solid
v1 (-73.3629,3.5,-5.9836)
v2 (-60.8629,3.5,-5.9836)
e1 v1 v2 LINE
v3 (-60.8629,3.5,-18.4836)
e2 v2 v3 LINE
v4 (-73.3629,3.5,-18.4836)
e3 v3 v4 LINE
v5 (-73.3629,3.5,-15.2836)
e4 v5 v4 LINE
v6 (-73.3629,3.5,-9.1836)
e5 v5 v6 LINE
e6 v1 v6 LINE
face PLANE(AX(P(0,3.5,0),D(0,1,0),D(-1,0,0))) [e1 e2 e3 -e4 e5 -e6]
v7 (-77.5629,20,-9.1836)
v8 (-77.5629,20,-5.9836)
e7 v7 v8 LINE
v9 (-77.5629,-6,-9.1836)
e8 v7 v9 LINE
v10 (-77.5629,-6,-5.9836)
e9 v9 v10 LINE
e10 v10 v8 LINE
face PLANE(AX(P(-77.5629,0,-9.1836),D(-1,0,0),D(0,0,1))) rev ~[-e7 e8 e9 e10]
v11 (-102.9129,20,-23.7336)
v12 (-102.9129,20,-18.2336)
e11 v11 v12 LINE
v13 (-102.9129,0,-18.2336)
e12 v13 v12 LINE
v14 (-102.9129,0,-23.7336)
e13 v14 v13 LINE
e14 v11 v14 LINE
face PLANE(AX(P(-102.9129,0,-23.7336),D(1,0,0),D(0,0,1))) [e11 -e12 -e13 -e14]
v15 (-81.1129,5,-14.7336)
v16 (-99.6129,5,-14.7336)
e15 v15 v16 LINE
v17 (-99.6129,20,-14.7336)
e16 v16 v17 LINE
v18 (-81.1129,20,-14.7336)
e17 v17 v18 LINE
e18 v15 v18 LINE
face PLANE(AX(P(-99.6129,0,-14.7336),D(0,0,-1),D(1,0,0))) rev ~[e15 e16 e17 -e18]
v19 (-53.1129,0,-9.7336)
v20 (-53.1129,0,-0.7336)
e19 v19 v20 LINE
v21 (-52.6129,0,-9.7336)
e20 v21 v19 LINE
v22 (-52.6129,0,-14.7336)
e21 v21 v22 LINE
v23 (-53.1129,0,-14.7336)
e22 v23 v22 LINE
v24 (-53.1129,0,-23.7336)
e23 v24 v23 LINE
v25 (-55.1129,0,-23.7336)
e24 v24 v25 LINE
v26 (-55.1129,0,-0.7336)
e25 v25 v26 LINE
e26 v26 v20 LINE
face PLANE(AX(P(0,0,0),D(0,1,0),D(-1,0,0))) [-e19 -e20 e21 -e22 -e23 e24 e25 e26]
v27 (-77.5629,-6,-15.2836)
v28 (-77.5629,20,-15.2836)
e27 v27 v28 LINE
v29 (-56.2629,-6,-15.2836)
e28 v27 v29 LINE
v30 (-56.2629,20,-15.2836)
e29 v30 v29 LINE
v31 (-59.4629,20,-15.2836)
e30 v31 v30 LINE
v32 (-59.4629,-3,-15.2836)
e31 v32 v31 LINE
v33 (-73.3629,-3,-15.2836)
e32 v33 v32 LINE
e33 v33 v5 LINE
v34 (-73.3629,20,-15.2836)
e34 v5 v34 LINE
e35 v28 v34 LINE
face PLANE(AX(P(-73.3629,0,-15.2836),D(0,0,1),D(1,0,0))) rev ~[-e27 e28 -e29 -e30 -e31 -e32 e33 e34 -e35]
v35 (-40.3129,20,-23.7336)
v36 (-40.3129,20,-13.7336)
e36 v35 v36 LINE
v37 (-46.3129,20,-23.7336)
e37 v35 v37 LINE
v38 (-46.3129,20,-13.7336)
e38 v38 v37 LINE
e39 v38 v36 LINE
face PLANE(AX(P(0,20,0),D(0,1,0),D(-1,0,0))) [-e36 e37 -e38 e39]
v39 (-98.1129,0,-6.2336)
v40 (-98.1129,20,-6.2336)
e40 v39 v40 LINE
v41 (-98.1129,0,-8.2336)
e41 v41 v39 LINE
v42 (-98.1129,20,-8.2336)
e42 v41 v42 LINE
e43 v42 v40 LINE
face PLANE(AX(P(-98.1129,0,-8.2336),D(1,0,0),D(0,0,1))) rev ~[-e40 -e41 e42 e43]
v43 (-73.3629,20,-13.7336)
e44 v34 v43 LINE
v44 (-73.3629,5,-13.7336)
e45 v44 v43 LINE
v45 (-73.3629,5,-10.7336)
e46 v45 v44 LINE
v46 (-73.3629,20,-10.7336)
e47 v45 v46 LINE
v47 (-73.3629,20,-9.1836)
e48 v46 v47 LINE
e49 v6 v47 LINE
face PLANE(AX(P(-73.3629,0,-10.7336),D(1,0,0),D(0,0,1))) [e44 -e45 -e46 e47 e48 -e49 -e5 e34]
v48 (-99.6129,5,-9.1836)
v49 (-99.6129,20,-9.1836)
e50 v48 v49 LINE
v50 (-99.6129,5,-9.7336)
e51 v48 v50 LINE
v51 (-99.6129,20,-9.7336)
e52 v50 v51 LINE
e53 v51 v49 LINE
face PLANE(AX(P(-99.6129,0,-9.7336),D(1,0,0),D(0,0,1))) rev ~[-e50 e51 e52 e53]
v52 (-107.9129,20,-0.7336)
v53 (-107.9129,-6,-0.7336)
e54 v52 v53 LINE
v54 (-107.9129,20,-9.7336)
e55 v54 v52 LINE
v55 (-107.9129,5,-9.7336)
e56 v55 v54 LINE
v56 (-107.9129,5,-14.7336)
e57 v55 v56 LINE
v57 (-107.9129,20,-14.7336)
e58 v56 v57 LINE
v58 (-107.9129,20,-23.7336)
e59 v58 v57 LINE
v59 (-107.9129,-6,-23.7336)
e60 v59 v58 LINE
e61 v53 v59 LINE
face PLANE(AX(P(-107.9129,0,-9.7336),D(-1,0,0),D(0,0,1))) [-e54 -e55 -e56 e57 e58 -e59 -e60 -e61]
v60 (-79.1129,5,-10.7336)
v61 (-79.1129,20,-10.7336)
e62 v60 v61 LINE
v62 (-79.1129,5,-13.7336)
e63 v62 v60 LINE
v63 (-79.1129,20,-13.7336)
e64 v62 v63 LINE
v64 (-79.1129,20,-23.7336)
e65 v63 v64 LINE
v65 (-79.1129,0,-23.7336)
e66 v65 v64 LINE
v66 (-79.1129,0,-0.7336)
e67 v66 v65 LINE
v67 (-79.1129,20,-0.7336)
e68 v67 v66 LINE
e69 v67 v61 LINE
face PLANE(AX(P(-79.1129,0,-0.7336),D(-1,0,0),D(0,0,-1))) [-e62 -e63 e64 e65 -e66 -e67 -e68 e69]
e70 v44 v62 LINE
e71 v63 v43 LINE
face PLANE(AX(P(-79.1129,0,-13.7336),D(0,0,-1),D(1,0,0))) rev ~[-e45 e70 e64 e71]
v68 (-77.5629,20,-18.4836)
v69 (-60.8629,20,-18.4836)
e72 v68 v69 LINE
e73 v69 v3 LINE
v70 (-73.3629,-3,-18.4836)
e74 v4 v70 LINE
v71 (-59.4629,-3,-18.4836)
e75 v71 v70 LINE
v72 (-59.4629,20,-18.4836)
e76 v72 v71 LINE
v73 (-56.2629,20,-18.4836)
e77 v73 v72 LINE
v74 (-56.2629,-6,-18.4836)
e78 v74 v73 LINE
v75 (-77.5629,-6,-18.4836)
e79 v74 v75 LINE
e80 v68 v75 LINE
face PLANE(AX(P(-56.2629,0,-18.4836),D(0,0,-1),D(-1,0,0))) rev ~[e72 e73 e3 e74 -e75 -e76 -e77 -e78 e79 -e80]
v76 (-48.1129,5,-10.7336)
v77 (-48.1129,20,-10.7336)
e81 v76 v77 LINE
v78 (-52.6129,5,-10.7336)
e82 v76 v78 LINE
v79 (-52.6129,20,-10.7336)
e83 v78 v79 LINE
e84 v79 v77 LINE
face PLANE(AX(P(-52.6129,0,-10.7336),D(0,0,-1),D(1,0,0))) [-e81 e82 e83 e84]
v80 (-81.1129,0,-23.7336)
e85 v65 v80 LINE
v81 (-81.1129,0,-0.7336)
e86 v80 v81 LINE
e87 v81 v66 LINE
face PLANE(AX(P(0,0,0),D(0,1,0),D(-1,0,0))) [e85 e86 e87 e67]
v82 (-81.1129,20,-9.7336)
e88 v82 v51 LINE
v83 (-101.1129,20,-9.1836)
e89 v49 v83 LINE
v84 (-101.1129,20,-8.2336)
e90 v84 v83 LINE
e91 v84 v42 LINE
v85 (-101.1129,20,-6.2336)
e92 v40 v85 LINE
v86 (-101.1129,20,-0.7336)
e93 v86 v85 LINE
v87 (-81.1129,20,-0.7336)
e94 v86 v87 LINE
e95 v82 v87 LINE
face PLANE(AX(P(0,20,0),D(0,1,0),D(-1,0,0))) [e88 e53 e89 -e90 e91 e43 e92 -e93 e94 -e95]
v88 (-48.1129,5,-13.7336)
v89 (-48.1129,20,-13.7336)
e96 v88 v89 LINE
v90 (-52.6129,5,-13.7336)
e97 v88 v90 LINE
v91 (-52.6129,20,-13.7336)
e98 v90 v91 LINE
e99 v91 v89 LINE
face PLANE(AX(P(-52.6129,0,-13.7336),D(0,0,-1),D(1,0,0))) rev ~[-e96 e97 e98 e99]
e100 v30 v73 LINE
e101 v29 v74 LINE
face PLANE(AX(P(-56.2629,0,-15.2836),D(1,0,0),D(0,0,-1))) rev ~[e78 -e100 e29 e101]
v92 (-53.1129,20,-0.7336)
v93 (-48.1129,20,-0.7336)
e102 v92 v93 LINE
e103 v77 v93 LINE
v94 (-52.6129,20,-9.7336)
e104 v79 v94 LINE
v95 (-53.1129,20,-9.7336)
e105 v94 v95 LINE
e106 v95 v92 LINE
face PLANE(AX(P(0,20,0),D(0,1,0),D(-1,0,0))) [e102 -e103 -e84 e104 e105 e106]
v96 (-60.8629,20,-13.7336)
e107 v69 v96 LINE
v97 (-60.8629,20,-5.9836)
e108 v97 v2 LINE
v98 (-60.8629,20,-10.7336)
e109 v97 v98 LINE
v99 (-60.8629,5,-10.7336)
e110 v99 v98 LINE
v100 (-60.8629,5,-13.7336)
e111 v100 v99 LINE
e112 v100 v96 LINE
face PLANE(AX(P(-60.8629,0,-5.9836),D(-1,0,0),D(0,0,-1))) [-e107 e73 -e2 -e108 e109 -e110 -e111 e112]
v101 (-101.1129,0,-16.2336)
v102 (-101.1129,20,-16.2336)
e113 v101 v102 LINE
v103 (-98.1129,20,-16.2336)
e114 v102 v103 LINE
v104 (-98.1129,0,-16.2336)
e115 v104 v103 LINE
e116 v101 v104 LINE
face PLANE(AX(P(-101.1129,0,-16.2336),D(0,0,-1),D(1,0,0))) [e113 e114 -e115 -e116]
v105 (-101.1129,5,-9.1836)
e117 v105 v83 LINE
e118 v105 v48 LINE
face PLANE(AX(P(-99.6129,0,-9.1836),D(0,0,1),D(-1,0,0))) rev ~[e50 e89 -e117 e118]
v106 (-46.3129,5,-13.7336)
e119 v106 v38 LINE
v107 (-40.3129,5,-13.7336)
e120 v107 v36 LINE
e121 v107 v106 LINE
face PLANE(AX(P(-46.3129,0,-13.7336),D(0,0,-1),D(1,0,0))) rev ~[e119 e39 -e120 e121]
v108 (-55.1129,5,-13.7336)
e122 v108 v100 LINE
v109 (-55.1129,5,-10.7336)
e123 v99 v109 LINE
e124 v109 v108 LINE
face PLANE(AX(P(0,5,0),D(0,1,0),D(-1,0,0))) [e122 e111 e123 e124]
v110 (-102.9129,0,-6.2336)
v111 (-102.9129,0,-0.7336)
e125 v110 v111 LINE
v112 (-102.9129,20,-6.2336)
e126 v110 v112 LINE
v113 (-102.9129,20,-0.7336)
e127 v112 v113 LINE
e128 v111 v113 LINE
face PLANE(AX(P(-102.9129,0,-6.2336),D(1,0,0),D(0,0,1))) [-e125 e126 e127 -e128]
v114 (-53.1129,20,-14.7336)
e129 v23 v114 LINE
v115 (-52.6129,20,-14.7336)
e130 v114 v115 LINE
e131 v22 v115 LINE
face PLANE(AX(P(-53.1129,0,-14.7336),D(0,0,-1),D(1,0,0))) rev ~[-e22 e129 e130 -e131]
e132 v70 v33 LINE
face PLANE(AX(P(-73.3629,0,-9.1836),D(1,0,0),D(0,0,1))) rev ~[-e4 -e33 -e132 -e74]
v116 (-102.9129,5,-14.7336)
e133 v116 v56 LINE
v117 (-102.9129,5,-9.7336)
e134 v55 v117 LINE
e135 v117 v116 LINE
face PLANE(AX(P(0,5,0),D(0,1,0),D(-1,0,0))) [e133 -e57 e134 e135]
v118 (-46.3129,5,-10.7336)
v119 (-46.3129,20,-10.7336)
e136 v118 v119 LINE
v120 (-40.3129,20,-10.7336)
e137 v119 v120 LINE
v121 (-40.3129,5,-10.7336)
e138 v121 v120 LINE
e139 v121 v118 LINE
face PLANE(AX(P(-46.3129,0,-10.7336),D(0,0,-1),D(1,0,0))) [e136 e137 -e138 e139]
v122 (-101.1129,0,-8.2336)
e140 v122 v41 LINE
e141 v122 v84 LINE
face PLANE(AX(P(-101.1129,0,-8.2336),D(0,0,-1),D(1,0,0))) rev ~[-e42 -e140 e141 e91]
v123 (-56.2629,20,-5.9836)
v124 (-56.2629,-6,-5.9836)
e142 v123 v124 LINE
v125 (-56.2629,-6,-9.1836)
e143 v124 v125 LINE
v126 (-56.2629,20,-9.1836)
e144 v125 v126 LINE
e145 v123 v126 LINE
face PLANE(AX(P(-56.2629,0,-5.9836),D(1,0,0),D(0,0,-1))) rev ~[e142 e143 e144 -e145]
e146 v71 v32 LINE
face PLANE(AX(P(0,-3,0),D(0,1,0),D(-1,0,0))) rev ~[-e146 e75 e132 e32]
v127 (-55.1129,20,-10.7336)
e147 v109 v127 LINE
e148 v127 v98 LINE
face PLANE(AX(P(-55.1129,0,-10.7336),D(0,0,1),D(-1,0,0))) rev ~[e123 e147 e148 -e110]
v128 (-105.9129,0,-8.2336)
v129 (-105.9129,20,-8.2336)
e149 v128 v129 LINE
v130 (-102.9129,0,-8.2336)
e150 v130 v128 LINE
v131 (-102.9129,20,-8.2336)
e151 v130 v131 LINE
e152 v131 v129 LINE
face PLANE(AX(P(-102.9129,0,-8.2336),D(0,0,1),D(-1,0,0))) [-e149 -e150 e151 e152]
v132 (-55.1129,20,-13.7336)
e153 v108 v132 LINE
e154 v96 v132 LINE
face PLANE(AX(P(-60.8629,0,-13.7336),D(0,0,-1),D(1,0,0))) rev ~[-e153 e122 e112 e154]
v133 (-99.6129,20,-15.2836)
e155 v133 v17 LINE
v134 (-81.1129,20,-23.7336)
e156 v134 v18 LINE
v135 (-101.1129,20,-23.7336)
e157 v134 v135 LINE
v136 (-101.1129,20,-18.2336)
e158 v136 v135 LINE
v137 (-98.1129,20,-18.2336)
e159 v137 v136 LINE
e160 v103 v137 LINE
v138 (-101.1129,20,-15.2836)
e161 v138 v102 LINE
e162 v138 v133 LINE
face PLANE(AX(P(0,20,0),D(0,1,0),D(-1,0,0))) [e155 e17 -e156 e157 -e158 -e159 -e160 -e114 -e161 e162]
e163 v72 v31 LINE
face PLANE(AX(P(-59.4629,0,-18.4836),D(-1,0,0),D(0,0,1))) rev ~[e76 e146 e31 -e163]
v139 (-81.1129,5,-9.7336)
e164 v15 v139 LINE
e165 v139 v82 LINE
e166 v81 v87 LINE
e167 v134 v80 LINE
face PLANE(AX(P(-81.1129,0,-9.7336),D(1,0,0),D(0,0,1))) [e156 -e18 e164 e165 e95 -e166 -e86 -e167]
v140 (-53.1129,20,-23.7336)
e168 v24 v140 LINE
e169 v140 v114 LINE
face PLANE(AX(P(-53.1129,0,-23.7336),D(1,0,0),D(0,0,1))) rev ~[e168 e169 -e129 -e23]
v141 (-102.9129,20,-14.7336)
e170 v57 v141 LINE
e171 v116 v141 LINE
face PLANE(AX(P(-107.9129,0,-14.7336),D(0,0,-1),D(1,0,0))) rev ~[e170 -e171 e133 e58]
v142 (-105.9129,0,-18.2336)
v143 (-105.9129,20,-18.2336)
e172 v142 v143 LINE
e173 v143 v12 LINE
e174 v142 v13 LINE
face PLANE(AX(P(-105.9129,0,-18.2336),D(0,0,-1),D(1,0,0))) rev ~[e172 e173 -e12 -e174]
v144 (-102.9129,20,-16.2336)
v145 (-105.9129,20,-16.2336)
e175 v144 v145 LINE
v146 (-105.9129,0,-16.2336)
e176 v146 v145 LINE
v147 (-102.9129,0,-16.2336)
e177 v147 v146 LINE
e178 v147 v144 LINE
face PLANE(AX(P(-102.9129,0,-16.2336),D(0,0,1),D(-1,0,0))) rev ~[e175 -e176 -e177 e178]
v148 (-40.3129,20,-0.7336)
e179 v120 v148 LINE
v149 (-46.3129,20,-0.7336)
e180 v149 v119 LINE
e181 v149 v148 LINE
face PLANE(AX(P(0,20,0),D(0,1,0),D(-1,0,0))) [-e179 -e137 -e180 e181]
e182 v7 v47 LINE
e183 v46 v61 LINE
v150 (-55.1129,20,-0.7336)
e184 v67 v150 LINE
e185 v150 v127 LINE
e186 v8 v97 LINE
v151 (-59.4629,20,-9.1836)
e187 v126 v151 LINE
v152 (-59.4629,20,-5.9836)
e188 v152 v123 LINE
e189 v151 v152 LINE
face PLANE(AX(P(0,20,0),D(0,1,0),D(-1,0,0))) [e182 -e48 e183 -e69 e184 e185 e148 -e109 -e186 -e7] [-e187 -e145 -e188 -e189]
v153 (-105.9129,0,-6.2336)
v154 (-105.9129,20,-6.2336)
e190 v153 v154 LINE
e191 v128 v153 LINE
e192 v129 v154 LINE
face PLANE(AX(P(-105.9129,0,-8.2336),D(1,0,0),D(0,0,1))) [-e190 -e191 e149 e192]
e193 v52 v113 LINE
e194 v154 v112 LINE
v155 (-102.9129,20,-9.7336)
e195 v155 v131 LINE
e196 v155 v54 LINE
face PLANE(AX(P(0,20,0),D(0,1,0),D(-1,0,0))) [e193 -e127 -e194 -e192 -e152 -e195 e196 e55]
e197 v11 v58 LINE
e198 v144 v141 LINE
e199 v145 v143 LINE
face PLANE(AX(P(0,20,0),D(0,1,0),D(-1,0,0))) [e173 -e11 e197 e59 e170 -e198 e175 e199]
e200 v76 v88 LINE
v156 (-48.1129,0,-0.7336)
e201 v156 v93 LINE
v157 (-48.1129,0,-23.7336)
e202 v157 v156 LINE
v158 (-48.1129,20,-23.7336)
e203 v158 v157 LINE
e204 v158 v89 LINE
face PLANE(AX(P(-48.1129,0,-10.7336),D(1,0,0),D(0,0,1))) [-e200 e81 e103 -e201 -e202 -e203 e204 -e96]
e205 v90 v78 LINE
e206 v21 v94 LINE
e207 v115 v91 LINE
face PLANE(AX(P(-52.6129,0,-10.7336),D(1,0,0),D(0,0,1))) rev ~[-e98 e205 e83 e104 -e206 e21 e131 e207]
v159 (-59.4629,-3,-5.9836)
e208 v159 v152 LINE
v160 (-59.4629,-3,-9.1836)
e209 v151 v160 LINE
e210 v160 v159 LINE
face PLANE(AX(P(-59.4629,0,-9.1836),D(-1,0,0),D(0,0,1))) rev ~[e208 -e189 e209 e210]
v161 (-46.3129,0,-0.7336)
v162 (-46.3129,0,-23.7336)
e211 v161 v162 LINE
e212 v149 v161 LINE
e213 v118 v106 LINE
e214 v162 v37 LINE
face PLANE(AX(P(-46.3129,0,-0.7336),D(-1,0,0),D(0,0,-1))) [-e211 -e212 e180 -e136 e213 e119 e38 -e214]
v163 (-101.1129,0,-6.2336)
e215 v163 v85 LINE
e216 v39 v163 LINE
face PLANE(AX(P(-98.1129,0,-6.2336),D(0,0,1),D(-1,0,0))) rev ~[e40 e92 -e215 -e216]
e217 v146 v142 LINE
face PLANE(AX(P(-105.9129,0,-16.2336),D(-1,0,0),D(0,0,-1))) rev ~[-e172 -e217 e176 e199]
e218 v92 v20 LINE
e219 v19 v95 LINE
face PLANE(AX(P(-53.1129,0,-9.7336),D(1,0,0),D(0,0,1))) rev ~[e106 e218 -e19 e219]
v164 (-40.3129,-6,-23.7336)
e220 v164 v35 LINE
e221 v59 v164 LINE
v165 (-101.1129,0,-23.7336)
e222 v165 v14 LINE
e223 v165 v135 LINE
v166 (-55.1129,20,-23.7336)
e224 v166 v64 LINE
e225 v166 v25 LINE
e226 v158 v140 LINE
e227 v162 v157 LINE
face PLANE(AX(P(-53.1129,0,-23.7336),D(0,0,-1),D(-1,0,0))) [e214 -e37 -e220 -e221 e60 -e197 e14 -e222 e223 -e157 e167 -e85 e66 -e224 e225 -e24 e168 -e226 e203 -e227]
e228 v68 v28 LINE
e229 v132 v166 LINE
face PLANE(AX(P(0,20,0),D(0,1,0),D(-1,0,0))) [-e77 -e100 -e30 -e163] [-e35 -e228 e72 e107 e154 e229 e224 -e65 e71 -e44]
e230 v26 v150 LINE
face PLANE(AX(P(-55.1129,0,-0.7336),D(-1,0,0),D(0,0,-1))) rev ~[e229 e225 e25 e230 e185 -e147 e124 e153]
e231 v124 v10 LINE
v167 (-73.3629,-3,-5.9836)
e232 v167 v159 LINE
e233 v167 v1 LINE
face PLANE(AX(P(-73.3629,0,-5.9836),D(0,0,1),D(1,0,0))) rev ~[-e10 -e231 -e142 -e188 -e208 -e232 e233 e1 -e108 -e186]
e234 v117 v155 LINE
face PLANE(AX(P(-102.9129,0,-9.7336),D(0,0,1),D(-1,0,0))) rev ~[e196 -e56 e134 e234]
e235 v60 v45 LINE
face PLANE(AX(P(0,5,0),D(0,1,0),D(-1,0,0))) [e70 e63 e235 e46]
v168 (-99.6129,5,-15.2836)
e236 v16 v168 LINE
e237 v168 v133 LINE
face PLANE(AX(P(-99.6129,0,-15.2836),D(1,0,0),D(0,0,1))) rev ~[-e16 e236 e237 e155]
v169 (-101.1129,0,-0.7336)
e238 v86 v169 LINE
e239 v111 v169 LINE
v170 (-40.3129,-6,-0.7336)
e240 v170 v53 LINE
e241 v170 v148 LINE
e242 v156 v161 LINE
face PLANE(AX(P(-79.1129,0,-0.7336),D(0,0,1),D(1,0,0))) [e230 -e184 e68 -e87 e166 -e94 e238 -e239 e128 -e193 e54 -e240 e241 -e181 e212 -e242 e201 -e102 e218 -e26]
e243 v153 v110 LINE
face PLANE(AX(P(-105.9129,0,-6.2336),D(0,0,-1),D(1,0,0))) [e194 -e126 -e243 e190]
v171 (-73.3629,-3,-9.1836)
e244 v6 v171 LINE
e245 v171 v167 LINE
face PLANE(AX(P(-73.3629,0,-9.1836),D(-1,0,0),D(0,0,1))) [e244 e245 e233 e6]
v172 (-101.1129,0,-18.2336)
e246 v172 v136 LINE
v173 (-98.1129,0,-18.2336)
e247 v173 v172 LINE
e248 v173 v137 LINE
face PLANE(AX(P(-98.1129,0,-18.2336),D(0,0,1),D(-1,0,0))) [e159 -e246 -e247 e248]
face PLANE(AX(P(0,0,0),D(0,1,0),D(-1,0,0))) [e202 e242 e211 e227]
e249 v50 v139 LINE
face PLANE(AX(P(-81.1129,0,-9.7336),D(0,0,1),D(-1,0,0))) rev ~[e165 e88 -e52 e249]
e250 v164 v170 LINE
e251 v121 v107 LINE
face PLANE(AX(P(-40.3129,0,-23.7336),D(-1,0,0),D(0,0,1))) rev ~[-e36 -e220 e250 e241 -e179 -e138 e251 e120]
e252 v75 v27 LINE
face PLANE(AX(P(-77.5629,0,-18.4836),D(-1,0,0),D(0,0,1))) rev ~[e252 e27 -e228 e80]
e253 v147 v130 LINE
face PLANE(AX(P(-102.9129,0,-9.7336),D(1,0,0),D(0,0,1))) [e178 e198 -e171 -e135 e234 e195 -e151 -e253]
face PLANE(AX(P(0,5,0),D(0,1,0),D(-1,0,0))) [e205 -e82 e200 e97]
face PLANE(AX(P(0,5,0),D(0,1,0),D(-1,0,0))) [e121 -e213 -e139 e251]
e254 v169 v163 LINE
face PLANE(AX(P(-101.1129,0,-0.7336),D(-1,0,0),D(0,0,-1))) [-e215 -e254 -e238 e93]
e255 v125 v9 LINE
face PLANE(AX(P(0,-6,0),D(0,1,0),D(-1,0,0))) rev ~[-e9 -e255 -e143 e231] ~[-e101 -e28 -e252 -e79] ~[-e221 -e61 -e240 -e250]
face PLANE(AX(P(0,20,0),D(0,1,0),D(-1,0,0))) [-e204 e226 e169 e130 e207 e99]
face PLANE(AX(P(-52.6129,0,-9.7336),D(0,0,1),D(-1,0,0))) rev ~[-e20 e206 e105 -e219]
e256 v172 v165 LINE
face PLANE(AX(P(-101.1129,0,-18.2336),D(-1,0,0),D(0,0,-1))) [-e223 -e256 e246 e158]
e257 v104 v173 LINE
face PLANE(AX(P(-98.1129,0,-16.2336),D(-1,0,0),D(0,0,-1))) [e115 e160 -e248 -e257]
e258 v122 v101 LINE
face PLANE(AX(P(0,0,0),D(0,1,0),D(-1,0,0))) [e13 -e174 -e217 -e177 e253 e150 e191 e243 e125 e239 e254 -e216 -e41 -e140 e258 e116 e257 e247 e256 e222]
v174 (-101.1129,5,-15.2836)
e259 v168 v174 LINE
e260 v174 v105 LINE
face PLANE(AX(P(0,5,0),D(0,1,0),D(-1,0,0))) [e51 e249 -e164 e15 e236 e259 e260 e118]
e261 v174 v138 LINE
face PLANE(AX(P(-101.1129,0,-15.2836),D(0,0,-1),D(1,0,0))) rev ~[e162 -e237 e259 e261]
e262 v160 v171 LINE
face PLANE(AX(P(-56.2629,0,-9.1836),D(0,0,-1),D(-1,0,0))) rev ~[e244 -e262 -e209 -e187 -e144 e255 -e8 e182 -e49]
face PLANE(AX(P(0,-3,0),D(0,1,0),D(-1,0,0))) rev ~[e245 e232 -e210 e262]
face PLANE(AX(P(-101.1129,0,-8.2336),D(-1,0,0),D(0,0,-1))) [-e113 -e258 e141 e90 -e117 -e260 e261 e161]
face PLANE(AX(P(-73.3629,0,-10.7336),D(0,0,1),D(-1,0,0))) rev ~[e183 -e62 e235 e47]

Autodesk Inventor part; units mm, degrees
ref_plane "YZ Plane" through (0, 0, 0) normal (1, 0, 0) x (0, 1, 0)
ref_plane "XZ Plane" through (0, 0, 0) normal (0, 1, 0) x (-1, 0, 0)
ref_plane "XY Plane" through (0, 0, 0) normal (0, 0, 1) x (1, 0, 0)
sketch "Sketch1" plane through (0, 0, 0) normal (0, 1, 0) x (-1, 0, 0)
  line L0 (73.3629, -5.9836) -> (60.8629, -5.9836)
  line L1 (60.8629, -5.9836) -> (60.8629, -18.4836)
  line L2 (60.8629, -18.4836) -> (73.3629, -18.4836)
  line L3 (73.3629, -18.4836) -> (73.3629, -5.9836)
  line L4 (107.9129, -0.7336) -> (40.3129, -0.7336)
  line L5 (40.3129, -23.7336) -> (107.9129, -23.7336)
  line L6 (77.3838, -12.2336) -> (49.3838, -12.2336) construction
  line L7 (67.1129, -2.25) -> (67.1129, -23.25) construction
  line L8 (81.1129, -9.7336) -> (107.9129, -9.7336)
  line L9 (107.9129, -14.7336) -> (81.1129, -14.7336)
  line L10 (48.1129, -23.7336) -> (48.1129, -0.7336)
  line L11 (46.3129, -0.7336) -> (46.3129, -23.7336)
  line L12 (52.6129, -10.7336) -> (40.3129, -10.7336)
  line L13 (52.6129, -13.7336) -> (40.3129, -13.7336)
  line L14 (101.1129, -15.2836) -> (99.6129, -15.2836)
  line L15 (99.6129, -15.2836) -> (99.6129, -9.1836)
  line L16 (99.6129, -9.1836) -> (101.1129, -9.1836)
  line L17 (79.1129, -0.7336) -> (79.1129, -23.7336)
  line L18 (81.1129, -23.7336) -> (81.1129, -0.7336)
  line L19 (55.1129, -0.7336) -> (55.1129, -23.7336)
  line L20 (79.1129, -13.7336) -> (73.3629, -13.7336)
  line L21 (73.3629, -10.7336) -> (79.1129, -10.7336)
  line L22 (60.8629, -13.7336) -> (55.1129, -13.7336)
  line L23 (55.1129, -10.7336) -> (60.8629, -10.7336)
  line L24 (73.3629, -18.4836) -> (77.5629, -18.4836)
  line L25 (77.5629, -18.4836) -> (77.5629, -15.2836)
  line L26 (77.5629, -15.2836) -> (73.3629, -15.2836)
  line L27 (73.3629, -15.2836) -> (60.8629, -15.2836)
  line L28 (56.2629, -15.2836) -> (56.2629, -18.4836)
  line L29 (56.2629, -18.4836) -> (59.4629, -18.4836)
  line L30 (59.4629, -15.2836) -> (56.2629, -15.2836)
  line L31 (59.4629, -5.9836) -> (56.2629, -5.9836)
  line L32 (56.2629, -5.9836) -> (56.2629, -9.1836)
  line L33 (56.2629, -9.1836) -> (59.4629, -9.1836)
  line L34 (60.8629, -9.1836) -> (73.3629, -9.1836)
  line L35 (77.5629, -9.1836) -> (77.5629, -5.9836)
  line L36 (73.3629, -5.9836) -> (77.5629, -5.9836)
  line L37 (77.5629, -9.1836) -> (73.3629, -9.1836)
  line L38 (59.4629, -18.4836) -> (59.4629, -15.2836)
  line L39 (59.4629, -9.1836) -> (59.4629, -5.9836)
  line L40 (60.8629, -18.4836) -> (59.4629, -18.4836)
  line L41 (60.8629, -15.2836) -> (59.4629, -15.2836)
  line L42 (60.8629, -9.1836) -> (59.4629, -9.1836)
  line L43 (60.8629, -5.9836) -> (59.4629, -5.9836)
  line L44 (40.3129, -23.7336) -> (40.3129, -0.7336)
  line L45 (107.9129, -23.7336) -> (107.9129, -0.7336)
  line L46 (53.1129, -14.7336) -> (52.6129, -14.7336)
  line L47 (52.6129, -14.7336) -> (52.6129, -9.7336)
  line L48 (52.6129, -9.7336) -> (53.1129, -9.7336)
  line L49 (53.1129, -23.7336) -> (53.1129, -14.7336)
  line L50 (53.1129, -9.7336) -> (53.1129, -0.7336)
  line L51 (101.1129, -16.2336) -> (98.1129, -16.2336)
  line L52 (98.1129, -16.2336) -> (98.1129, -18.2336)
  line L53 (98.1129, -18.2336) -> (101.1129, -18.2336)
  line L54 (102.9129, -16.2336) -> (105.9129, -16.2336)
  line L55 (105.9129, -16.2336) -> (105.9129, -18.2336)
  line L56 (105.9129, -18.2336) -> (102.9129, -18.2336)
  line L57 (101.1129, -8.2336) -> (98.1129, -8.2336)
  line L58 (98.1129, -8.2336) -> (98.1129, -6.2336)
  line L59 (98.1129, -6.2336) -> (101.1129, -6.2336)
  line L60 (102.9129, -8.2336) -> (105.9129, -8.2336)
  line L61 (105.9129, -8.2336) -> (105.9129, -6.2336)
  line L62 (105.9129, -6.2336) -> (102.9129, -6.2336)
  line L63 (106.4404, -17.2336) -> (97.7013, -17.2336) construction
  line L64 (106, -7.2336) -> (98, -7.2336) construction
  line L65 (102.9129, -23.7336) -> (102.9129, -18.2336)
  line L66 (101.1129, -18.2336) -> (101.1129, -23.7336)
  line L67 (102.9129, -16.2336) -> (102.9129, -8.2336)
  line L68 (102.9129, -6.2336) -> (102.9129, -0.7336)
  line L69 (101.1129, -0.7336) -> (101.1129, -6.2336)
  line L70 (101.1129, -8.2336) -> (101.1129, -16.2336)
  point P0 (102.9129, -9.7336)
  point P1 (101.1129, -9.7336)
  point P2 (102.9129, -14.7336)
  point P3 (101.1129, -14.7336)
  point P4 (48.1129, -10.7336)
  point P5 (46.3129, -10.7336)
  point P6 (48.1129, -13.7336)
  point P7 (46.3129, -13.7336)
  point P8 (67.1129, -12.2336)
  point P9 (99.6129, -9.7336)
  point P10 (99.6129, -14.7336)
  dimension "d0" = 12.5
  dimension "d1" = 12.5
  dimension "d12" = 5
  dimension "d18" = 1.8
  dimension "d39" = 1.5
  dimension "d43" = 2
  dimension "d52" = 12
  dimension "d57" = 12
  dimension "d62" = 3
  dimension "d63" = 3
  dimension "d71" = 7
  dimension "d76" = 4.2
  dimension "d77" = 3.2
  dimension "d78" = 3.2
  dimension "d79" = 1.4
  dimension "d80" = 3.2
  dimension "d91" = 6
  dimension "d92" = 3
  dimension "d95" = 23
  dimension "d98" = 5
  dimension "d99" = 0.5
  dimension "d100" = 2
  dimension "d101" = 2
  dimension "d102" = 3
  dimension "d103" = 10
  dimension "d104" = 1.8
  dimension "d105" = 20
  dimension "d107" = 6.1
  dimension "d108" = 5
  dimension "d109" = 67.6
extrude "Extrusion11" add sketch "Sketch1" against normal blind 3 contours L3 L34 L1 L0 | L1 L42 L39 L43 | L3 L2 L1 L27 | L1 L40 L38 L41
extrude "Extrusion10" add sketch "Sketch1" against normal blind 6 separate body contours L0 L43 L31 L32 L33 L42 L1 L23 L19 L4 L17 L21 L3 L37 L35 L36 | L3 L27 L1 L34 | L21 L17 L20 L3 | L1 L22 L19 L23 | L20 L17 L5 L19 L22 L1 L41 L30 L28 L29 L40 L2 L24 L25 L26 L3 | L17 L4 L18 L5 | L19 L5 L49 L46 L47 L48 L50 L4 | L4 L69 L59 L58 L57 L70 L16 L15 L8 L18 | L50 L48 L47 L12 L10 L4 | L18 L9 L15 L14 L70 L51 L52 L53 L66 L5 | L4 L68 L62 L61 L60 L67 L8 L70 L57 L58 L59 L69 | L8 L15 L9 L18 | L5 L10 L13 L47 L46 L49 | L10 L12 L11 L4 | L66 L53 L52 L51 L70 L9 L67 L54 L55 L56 L65 L5 | L4 L45 L8 L67 L60 L61 L62 L68 | L15 L16 L70 L8 | L8 L70 L9 L15 | L5 L11 L13 L10 | L11 L12 L44 L4 | L12 L47 L13 L10 | L10 L13 L11 L12 | L65 L56 L55 L54 L67 L9 L45 L5 | L9 L70 L14 L15 | L8 L67 L9 L70 | L5 L44 L13 L11 | L11 L13 L44 L12 | L45 L9 L67 L8
extrude "Extrusion15" add sketch "Sketch1" along normal blind 5 contours L0 L43 L31 L32 L33 L42 L1 L23 L19 L4 L17 L21 L3 L37 L35 L36 | L21 L17 L20 L3 | L1 L22 L19 L23 | L20 L17 L5 L19 L22 L1 L41 L30 L28 L29 L40 L2 L24 L25 L26 L3 | L4 L69 L59 L58 L57 L70 L16 L15 L8 L18 | L50 L48 L47 L12 L10 L4 | L18 L9 L15 L14 L70 L51 L52 L53 L66 L5 | L8 L15 L9 L18 | L5 L10 L13 L47 L46 L49 | L4 L45 L8 L67 L60 L61 L62 L68 | L15 L16 L70 L8 | L8 L70 L9 L15 | L11 L12 L44 L4 | L12 L47 L13 L10 | L65 L56 L55 L54 L67 L9 L45 L5 | L9 L70 L14 L15 | L5 L44 L13 L11 | L11 L13 L44 L12 | L45 L9 L67 L8
extrude "Extrusion14" add sketch "Sketch1" along normal blind 3.5 contours L3 L34 L1 L0 | L3 L27 L1 L34 | L3 L2 L1 L27
extrude "Extrusion16" add sketch "Sketch1" along normal blind 20 contours L0 L43 L31 L32 L33 L42 L1 L23 L19 L4 L17 L21 L3 L37 L35 L36 | L1 L42 L39 L43 | L20 L17 L5 L19 L22 L1 L41 L30 L28 L29 L40 L2 L24 L25 L26 L3 | L1 L40 L38 L41 | L4 L69 L59 L58 L57 L70 L16 L15 L8 L18 | L50 L48 L47 L12 L10 L4 | L18 L9 L15 L14 L70 L51 L52 L53 L66 L5 | L5 L10 L13 L47 L46 L49 | L4 L45 L8 L67 L60 L61 L62 L68 | L11 L12 L44 L4 | L65 L56 L55 L54 L67 L9 L45 L5 | L5 L44 L13 L11
properties part number "Spirulina_prototype"
